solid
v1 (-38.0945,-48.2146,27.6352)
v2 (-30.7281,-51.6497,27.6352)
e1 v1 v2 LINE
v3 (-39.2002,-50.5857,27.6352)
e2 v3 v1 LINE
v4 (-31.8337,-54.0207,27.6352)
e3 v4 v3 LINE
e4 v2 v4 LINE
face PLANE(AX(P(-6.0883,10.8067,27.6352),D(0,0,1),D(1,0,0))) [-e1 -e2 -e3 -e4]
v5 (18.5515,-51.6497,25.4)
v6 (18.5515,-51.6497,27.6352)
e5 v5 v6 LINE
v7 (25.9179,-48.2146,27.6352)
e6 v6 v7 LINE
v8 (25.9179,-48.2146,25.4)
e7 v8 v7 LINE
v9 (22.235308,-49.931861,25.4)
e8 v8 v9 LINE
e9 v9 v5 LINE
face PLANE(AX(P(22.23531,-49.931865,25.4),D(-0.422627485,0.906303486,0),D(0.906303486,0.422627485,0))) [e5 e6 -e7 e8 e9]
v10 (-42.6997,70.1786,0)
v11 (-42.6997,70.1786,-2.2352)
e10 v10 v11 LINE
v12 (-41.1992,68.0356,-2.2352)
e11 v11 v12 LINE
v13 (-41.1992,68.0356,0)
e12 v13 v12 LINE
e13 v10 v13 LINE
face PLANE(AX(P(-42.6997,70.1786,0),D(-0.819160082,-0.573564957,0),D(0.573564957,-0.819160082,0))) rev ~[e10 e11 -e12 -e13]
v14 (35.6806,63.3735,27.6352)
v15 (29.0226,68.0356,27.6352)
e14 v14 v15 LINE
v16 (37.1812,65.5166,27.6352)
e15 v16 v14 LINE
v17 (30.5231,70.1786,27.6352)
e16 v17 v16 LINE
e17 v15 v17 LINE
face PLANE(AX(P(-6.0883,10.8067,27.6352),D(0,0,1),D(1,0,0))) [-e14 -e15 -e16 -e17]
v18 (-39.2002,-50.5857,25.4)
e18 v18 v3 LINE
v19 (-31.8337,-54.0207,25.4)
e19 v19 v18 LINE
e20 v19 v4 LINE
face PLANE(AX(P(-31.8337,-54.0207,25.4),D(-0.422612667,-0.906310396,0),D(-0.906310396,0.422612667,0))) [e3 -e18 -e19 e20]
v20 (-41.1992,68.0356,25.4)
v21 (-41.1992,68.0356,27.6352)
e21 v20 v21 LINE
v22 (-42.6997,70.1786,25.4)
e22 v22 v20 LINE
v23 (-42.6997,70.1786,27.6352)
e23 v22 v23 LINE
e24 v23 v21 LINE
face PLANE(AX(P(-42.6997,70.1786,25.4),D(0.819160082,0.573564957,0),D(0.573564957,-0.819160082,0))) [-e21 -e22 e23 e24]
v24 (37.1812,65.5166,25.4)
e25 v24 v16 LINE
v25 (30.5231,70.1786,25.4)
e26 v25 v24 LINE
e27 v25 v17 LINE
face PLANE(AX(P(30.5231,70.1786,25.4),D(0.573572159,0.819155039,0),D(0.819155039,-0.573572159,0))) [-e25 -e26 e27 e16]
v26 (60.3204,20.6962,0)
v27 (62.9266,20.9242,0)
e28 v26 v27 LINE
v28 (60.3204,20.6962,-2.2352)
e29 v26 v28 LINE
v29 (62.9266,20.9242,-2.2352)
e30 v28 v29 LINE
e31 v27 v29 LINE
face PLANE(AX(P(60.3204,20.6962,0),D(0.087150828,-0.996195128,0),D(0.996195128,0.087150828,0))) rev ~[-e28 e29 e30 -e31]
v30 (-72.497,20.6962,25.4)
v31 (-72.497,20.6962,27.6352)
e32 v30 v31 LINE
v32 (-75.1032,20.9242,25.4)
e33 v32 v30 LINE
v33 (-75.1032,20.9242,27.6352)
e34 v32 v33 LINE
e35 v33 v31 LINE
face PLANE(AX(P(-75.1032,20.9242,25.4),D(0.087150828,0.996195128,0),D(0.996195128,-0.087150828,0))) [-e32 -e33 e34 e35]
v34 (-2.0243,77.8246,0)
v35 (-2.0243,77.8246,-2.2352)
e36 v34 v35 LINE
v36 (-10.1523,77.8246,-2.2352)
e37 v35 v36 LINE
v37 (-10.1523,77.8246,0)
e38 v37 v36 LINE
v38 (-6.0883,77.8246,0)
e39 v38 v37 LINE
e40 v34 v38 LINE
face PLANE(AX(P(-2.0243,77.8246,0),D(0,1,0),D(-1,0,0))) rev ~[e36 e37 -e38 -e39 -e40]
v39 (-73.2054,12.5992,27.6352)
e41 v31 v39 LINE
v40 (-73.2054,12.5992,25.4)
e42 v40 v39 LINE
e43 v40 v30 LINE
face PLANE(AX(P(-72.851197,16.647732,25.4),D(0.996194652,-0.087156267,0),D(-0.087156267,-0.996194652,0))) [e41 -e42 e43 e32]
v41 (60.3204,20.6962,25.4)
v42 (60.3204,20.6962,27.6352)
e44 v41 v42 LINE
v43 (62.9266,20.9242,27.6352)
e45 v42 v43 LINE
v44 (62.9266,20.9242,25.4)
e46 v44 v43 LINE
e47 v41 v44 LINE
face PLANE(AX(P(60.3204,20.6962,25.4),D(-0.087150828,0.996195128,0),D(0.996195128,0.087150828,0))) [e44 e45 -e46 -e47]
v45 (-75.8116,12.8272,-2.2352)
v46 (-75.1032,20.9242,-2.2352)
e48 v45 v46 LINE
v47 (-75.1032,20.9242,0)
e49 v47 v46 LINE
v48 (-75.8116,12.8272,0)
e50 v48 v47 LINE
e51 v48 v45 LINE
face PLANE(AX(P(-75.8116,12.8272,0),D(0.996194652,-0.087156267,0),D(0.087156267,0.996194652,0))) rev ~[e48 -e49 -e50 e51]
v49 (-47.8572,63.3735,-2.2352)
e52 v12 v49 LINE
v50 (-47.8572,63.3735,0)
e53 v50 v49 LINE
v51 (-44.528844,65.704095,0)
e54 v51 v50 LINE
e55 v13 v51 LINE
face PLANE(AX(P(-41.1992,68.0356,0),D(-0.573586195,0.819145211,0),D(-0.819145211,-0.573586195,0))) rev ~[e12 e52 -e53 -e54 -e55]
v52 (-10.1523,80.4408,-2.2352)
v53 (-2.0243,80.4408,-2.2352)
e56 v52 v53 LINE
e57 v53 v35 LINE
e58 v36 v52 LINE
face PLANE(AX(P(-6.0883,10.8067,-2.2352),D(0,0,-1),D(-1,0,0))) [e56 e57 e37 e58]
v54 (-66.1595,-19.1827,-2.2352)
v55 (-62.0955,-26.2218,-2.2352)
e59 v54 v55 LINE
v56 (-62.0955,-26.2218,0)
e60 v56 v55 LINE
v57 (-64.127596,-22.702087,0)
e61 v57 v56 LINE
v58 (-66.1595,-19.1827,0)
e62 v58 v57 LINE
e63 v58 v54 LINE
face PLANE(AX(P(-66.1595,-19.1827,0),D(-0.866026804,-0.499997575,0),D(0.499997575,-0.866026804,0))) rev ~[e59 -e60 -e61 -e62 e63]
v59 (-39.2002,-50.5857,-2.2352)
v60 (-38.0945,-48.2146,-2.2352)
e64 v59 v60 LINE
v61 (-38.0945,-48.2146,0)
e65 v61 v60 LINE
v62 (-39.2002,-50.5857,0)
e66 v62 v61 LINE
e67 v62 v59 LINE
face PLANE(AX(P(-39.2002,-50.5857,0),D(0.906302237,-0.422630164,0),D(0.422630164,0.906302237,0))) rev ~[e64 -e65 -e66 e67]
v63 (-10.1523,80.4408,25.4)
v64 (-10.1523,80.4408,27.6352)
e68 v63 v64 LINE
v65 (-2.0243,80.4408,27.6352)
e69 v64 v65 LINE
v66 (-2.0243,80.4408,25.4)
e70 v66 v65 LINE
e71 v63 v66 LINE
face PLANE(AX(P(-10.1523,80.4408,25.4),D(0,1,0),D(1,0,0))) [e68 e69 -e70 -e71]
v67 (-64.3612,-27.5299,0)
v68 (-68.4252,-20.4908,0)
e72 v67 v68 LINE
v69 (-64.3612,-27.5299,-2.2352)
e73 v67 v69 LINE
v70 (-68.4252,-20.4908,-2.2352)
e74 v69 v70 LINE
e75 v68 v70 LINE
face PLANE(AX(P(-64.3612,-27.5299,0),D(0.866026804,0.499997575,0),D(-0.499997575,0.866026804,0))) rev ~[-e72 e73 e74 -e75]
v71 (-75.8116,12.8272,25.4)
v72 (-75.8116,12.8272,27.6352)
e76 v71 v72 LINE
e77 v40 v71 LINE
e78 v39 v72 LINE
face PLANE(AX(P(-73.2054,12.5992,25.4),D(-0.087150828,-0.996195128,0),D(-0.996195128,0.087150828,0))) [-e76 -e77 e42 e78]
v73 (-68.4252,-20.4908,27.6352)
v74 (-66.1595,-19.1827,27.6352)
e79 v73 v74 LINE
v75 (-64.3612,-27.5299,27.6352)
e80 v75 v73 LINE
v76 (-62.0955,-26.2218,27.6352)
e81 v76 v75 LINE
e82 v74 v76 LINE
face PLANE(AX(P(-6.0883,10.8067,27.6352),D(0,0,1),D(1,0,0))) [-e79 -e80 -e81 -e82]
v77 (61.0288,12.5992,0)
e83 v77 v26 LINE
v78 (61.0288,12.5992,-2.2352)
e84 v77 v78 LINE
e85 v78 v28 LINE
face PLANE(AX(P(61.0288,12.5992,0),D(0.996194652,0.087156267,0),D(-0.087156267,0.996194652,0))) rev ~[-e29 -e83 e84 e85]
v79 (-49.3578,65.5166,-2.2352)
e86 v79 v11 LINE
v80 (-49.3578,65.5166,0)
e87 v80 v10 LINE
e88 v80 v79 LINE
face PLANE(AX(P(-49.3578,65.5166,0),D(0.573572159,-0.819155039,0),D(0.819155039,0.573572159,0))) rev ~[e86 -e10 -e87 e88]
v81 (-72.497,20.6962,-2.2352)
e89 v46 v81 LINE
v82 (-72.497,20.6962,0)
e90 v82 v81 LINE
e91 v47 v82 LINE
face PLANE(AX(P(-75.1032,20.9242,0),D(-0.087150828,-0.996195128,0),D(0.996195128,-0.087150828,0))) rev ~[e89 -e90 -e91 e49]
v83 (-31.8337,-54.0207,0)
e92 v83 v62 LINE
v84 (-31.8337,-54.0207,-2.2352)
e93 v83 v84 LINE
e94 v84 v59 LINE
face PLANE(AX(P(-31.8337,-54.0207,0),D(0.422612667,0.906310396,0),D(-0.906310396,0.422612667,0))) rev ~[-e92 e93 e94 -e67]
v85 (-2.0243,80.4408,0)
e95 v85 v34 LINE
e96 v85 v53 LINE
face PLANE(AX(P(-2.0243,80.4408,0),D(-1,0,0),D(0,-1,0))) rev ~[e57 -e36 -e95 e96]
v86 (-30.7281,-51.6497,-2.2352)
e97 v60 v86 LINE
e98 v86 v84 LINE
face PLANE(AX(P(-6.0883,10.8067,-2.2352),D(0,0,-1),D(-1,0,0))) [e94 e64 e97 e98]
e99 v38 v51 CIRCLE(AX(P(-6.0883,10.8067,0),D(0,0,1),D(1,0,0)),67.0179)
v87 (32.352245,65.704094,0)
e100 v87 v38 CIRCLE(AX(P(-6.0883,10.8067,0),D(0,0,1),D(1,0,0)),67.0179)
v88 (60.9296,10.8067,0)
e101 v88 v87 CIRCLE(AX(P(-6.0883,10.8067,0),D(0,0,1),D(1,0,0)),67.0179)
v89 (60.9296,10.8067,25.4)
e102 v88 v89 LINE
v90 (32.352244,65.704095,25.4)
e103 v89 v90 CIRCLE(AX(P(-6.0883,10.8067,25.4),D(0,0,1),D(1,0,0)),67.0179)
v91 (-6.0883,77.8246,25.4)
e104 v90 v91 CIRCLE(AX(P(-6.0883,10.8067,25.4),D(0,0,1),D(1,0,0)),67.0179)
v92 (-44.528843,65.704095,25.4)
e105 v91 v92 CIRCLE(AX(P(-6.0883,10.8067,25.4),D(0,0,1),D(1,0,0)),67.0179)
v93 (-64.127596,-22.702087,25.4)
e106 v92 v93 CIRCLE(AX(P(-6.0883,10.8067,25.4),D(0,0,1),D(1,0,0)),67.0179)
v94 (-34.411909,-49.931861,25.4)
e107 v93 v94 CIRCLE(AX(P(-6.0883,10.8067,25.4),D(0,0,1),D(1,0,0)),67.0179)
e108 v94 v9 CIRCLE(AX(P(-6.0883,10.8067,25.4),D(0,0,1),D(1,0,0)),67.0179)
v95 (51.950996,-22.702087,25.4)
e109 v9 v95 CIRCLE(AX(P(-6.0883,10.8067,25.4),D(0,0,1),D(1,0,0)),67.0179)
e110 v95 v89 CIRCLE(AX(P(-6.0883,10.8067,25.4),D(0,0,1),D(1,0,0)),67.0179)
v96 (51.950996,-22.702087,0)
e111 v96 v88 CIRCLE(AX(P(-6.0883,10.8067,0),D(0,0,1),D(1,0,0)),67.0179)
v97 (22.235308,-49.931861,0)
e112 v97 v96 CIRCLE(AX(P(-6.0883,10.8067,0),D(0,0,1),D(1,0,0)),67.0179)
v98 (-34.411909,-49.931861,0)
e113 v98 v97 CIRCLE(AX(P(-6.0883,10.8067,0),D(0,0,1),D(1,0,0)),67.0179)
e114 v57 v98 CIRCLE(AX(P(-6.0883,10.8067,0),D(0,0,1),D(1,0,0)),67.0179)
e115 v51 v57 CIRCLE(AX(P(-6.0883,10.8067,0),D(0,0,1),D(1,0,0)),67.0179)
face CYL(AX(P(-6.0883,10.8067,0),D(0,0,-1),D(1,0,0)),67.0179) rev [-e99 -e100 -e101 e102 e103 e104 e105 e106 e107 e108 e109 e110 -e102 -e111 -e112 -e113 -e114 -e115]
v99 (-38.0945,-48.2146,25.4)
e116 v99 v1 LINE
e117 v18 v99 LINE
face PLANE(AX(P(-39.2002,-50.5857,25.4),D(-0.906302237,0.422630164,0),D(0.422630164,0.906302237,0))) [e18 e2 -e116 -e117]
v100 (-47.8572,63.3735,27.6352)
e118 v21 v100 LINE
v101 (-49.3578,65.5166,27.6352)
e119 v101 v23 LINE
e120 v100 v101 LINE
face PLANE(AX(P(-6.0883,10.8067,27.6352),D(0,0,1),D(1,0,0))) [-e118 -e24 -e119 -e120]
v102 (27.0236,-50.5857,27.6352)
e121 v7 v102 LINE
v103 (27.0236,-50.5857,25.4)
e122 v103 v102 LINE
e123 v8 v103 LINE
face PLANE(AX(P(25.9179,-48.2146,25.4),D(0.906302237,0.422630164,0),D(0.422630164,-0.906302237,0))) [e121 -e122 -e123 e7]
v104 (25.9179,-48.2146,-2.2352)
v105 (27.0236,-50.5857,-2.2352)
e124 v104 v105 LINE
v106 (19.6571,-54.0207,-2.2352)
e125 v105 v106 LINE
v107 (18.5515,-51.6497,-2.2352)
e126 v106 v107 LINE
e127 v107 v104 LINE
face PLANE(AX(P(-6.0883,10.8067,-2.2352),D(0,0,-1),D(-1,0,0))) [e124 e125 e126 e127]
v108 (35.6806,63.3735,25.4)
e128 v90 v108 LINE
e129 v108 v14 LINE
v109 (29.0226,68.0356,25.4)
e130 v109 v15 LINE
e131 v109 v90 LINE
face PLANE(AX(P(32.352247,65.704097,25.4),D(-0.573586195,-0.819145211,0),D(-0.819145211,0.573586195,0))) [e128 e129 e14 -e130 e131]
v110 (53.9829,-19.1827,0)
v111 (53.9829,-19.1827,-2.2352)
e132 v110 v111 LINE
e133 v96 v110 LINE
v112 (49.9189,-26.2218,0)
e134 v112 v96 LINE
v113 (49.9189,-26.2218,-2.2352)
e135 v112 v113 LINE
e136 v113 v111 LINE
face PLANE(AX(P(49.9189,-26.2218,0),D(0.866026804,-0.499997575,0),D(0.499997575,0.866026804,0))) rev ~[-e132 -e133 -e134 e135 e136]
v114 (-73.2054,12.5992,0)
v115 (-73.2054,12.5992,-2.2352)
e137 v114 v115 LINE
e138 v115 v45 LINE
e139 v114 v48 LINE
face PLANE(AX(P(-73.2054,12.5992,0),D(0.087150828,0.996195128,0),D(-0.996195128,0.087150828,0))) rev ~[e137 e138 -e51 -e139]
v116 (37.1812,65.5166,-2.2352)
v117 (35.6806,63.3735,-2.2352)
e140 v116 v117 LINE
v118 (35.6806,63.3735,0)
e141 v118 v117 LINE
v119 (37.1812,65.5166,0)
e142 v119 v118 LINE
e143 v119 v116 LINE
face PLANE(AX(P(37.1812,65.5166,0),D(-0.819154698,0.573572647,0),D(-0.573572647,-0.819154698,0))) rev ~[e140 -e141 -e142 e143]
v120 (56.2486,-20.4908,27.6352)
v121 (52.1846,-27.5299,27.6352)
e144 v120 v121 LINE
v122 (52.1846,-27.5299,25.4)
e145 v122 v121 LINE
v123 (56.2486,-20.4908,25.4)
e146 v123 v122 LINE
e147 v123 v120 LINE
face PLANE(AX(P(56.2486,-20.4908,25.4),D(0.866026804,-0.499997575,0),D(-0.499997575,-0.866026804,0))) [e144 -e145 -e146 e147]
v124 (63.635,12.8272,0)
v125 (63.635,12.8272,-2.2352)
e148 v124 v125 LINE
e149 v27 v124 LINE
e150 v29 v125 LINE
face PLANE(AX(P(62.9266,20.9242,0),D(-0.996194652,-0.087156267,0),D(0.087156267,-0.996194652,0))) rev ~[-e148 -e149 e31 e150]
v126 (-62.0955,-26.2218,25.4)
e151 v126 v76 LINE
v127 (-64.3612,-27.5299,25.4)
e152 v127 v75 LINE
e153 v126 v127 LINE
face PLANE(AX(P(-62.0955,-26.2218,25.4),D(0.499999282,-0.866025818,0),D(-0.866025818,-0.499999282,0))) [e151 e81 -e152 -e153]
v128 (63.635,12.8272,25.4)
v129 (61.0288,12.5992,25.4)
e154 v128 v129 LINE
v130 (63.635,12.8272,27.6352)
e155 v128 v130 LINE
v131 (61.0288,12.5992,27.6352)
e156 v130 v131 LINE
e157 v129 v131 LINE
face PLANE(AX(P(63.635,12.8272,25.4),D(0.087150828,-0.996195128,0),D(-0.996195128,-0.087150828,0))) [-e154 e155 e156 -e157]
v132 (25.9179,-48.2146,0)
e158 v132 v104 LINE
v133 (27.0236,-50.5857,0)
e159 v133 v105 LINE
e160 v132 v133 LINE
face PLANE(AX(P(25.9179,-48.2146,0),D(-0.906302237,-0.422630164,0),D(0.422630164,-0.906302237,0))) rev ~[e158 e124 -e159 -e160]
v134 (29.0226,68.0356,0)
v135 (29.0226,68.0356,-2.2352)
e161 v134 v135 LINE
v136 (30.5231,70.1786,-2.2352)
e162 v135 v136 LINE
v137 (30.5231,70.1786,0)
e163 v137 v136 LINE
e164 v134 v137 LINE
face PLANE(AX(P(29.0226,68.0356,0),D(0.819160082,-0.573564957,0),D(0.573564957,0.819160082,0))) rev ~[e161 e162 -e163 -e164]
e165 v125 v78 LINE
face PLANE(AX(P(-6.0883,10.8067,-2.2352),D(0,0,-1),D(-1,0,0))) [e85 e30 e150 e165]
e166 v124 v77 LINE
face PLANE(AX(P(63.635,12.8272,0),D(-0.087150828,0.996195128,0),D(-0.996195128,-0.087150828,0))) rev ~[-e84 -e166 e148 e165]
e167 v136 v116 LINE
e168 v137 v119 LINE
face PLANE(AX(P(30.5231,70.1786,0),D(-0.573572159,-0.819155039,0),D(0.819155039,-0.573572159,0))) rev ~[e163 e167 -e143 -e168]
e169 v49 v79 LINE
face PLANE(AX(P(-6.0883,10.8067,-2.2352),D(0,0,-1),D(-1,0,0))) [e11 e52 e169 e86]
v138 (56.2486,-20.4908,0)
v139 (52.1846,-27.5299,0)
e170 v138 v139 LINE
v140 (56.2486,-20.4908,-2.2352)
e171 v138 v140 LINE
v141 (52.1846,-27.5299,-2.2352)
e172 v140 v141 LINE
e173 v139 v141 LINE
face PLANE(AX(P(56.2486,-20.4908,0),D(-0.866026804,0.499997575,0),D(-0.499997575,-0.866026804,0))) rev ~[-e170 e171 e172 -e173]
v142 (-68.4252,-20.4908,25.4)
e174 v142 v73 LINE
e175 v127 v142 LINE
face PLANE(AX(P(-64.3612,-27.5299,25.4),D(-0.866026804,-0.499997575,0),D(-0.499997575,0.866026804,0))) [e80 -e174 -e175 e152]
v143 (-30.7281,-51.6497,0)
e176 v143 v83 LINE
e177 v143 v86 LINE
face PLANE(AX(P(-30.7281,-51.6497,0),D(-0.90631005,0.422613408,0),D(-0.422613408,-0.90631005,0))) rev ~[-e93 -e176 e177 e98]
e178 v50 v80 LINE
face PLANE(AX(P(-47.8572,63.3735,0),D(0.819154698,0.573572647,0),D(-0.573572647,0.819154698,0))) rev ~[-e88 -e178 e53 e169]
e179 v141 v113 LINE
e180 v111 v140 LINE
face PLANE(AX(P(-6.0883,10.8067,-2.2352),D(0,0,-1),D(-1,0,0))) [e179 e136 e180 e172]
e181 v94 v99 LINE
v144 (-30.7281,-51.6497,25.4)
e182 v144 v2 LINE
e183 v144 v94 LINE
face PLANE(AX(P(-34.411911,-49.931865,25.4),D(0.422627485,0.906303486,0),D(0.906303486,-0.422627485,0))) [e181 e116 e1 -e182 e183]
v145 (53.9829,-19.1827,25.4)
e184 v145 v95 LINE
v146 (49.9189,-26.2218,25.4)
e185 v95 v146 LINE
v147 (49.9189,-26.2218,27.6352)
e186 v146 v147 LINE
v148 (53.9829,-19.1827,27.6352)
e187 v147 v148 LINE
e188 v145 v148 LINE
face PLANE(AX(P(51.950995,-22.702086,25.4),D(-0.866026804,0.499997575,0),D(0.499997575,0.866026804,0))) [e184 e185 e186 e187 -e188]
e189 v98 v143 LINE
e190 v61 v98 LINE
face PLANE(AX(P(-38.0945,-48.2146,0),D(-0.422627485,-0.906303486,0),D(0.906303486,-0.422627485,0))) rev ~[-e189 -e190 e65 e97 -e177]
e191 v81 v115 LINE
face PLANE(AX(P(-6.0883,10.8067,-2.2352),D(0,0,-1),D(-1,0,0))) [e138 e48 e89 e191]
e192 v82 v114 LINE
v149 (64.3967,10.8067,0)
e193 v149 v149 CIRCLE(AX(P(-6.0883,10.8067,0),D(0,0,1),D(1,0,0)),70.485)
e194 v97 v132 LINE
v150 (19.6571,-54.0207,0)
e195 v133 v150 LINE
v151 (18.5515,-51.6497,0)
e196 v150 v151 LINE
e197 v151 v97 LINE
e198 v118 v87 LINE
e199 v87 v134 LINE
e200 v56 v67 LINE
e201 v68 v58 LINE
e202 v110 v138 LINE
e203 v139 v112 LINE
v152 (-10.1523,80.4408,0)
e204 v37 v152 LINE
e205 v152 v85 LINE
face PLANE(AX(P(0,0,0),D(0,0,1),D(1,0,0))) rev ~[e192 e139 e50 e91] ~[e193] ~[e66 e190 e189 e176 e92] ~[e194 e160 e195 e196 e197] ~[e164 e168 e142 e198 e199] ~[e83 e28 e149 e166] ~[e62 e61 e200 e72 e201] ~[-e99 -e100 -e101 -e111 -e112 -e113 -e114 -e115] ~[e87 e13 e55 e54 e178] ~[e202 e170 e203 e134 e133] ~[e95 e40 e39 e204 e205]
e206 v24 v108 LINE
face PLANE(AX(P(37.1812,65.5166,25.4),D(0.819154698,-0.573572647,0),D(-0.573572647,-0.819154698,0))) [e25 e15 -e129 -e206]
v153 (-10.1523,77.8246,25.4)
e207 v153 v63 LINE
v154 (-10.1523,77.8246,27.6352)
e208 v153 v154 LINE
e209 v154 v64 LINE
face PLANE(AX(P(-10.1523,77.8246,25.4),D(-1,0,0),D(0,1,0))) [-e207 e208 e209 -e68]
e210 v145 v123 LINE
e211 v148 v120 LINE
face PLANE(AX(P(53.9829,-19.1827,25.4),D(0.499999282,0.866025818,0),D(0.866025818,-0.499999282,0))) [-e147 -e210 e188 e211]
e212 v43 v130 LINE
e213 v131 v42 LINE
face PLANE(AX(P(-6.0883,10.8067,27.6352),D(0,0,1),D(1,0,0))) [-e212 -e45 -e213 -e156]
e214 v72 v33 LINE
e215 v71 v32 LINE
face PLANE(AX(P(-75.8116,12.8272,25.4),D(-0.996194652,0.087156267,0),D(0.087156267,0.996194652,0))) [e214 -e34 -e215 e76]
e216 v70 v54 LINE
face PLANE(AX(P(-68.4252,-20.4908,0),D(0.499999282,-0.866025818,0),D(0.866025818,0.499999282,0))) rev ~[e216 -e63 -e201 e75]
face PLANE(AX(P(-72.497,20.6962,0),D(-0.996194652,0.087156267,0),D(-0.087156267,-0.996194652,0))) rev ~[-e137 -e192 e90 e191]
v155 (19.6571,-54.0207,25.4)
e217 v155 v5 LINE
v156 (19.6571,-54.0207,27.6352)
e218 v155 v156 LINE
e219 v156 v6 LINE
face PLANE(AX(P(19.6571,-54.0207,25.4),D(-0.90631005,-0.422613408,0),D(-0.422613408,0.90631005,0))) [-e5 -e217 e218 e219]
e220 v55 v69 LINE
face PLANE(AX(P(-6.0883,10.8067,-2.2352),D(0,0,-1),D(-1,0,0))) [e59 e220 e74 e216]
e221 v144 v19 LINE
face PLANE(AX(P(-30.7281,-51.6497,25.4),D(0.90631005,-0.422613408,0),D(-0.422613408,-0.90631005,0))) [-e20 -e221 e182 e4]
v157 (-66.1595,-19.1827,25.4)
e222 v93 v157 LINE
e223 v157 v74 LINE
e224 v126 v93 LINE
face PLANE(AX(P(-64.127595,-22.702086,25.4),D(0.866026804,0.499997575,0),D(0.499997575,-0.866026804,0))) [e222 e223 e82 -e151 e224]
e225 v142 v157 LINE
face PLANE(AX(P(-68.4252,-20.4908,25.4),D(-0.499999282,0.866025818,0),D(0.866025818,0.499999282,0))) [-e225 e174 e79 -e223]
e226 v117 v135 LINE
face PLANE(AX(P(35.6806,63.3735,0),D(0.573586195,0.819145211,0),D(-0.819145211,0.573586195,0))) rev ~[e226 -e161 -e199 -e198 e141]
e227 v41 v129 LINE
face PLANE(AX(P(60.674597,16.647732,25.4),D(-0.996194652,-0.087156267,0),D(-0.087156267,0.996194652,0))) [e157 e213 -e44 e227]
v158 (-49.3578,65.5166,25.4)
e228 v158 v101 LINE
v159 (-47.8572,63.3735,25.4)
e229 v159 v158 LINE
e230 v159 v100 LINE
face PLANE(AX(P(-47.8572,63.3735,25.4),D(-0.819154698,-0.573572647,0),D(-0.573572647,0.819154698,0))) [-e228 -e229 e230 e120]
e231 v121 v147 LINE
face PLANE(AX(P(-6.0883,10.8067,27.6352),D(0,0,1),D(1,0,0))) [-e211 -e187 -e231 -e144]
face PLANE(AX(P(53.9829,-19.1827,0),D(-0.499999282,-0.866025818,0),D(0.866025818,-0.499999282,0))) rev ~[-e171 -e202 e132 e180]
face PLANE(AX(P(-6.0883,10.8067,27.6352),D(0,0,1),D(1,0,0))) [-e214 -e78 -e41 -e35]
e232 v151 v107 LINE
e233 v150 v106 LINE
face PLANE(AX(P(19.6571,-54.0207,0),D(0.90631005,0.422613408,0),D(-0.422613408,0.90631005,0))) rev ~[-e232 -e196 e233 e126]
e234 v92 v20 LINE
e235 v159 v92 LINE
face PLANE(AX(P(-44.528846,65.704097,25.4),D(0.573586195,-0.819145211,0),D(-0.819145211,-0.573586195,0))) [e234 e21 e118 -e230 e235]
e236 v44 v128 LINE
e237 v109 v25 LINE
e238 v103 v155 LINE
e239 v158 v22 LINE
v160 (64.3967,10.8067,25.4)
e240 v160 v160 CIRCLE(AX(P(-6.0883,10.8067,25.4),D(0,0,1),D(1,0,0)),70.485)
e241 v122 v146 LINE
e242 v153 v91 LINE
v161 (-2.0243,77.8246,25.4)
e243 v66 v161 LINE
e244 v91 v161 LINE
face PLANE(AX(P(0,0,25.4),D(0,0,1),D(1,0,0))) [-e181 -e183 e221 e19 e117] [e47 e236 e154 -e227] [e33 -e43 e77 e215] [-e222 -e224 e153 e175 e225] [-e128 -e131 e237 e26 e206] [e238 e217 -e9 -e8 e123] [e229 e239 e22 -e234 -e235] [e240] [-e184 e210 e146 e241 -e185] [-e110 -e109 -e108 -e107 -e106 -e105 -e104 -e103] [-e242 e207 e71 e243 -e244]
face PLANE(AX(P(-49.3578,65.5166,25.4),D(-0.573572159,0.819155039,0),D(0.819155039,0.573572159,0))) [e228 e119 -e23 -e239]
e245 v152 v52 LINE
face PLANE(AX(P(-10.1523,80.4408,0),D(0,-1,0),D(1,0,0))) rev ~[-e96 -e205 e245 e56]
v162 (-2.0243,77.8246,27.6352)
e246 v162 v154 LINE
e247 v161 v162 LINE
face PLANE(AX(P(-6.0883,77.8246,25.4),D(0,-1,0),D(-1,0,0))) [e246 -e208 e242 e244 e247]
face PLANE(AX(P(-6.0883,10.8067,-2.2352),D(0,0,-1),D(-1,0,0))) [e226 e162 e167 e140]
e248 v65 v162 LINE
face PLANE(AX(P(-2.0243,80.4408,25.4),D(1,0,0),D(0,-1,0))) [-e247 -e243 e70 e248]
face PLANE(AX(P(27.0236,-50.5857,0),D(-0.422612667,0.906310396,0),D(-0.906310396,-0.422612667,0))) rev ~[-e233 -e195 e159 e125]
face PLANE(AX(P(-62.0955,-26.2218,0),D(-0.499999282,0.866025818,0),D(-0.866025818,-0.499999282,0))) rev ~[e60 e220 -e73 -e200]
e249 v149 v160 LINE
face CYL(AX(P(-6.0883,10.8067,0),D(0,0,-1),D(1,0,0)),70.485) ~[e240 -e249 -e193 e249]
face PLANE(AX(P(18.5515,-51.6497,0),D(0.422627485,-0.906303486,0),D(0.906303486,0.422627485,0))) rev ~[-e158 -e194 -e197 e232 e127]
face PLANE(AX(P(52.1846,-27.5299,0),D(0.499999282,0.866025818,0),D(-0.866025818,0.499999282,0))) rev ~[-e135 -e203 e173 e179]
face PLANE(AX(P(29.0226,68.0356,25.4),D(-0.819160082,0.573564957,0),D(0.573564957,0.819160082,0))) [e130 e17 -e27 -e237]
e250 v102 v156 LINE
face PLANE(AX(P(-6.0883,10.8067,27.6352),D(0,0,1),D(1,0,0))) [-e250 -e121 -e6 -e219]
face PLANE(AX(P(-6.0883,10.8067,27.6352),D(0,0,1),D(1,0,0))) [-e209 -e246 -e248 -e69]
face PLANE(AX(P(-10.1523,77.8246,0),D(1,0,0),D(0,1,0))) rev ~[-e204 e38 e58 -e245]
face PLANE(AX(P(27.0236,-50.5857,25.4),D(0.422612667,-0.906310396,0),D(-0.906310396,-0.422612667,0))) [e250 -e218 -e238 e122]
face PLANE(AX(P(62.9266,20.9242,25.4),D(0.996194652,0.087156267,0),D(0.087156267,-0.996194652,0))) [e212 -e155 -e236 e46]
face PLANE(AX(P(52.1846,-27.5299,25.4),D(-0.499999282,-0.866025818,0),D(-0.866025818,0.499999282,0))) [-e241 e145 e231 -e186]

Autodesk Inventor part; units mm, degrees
ref_plane "YZ Plane" through (0, 0, 0) normal (1, 0, 0) x (0, 1, 0)
ref_plane "XZ Plane" through (0, 0, 0) normal (0, 1, 0) x (-1, 0, 0)
ref_plane "XY Plane" through (0, 0, 0) normal (0, 0, 1) x (1, 0, 0)
sketch "Sketch1" plane through (0, 0, 0) normal (0, 0, 1) x (1, 0, 0)
  circle A0 centre (-6.0883, 10.8067) radius 67.0179
  circle A1 centre (-6.0883, 10.8067) radius 70.485
  dimension "d0" = 140.97
  dimension "d1" = 134.0358
extrude "Extrusion1" add sketch "Sketch1" along normal blind 25.4
sketch "Sketch2" plane through (-6.0883, 10.8067, 25.4) normal (0, 0, 1) x (1, 0, 0)
  circle A0 centre (0, 0) radius 67.0179 projected
  circle A1 centre (0, 0) radius 70.485 projected
  line L0 (-4.064, 69.6341) -> (4.064, 69.6341)
  line L1 (4.064, 69.6341) -> (4.064, 67.0179)
  line L2 (4.064, 67.0179) -> (-4.064, 67.0179)
  line L3 (-4.064, 67.0179) -> (-4.064, 69.6341)
  line L4 (-43.2695, 54.7099) -> (-36.6114, 59.3719)
  line L5 (-36.6114, 59.3719) -> (-35.1109, 57.2289)
  line L6 (-35.1109, 57.2289) -> (-41.7689, 52.5668)
  line L7 (-41.7689, 52.5668) -> (-43.2695, 54.7099)
  line L8 (36.6114, 59.3719) -> (43.2695, 54.7099)
  line L9 (43.2695, 54.7099) -> (41.7689, 52.5668)
  line L10 (41.7689, 52.5668) -> (35.1109, 57.2289)
  line L11 (35.1109, 57.2289) -> (36.6114, 59.3719)
  line L12 (-69.7233, 2.0205) -> (-69.0149, 10.1175)
  line L13 (-69.0149, 10.1175) -> (-66.4087, 9.8895)
  line L14 (-66.4087, 9.8895) -> (-67.1171, 1.7925)
  line L15 (-67.1171, 1.7925) -> (-69.7233, 2.0205)
  line L16 (-60.0712, -29.9894) -> (-56.0072, -37.0285)
  line L17 (-56.0072, -37.0285) -> (-58.2729, -38.3366)
  line L18 (-58.2729, -38.3366) -> (-62.3369, -31.2975)
  line L19 (-62.3369, -31.2975) -> (-60.0712, -29.9894)
  line L20 (-32.0062, -59.0213) -> (-24.6398, -62.4564)
  line L21 (-24.6398, -62.4564) -> (-25.7454, -64.8274)
  line L22 (-25.7454, -64.8274) -> (-33.1119, -61.3924)
  line L23 (-33.1119, -61.3924) -> (-32.0062, -59.0213)
  line L24 (25.7454, -64.8274) -> (24.6398, -62.4564)
  line L25 (33.1119, -61.3924) -> (25.7454, -64.8274)
  line L26 (32.0062, -59.0213) -> (33.1119, -61.3924)
  line L27 (24.6398, -62.4564) -> (32.0062, -59.0213)
  line L28 (69.0149, 10.1175) -> (69.7233, 2.0205)
  line L29 (69.7233, 2.0205) -> (67.1171, 1.7925)
  line L30 (67.1171, 1.7925) -> (66.4087, 9.8895)
  line L31 (66.4087, 9.8895) -> (69.0149, 10.1175)
  line L32 (62.3369, -31.2975) -> (58.2729, -38.3366)
  line L33 (58.2729, -38.3366) -> (56.0072, -37.0285)
  line L34 (56.0072, -37.0285) -> (60.0712, -29.9894)
  line L35 (60.0712, -29.9894) -> (62.3369, -31.2975)
  line L36 (33.1119, -61.3924) -> (25.7454, -64.8274)
  line L37 (25.7454, -64.8274) -> (24.6398, -62.4564)
  line L38 (24.6398, -62.4564) -> (32.0062, -59.0213)
  line L39 (32.0062, -59.0213) -> (33.1119, -61.3924)
  dimension "d4" = 2.6162
  dimension "d5" = 8.128
  dimension "d8" = 35
  dimension "d12" = 35
  dimension "d16" = 50
  dimension "d20" = 70
  dimension "d24" = 50
  dimension "d28" = 50
  dimension "d32" = 70
extrude "Extrusion2" add sketch "Sketch2" along normal blind 2.2352 contours L34 L35 L32 L33 | L27 L26 L25 L24 | L20 L21 L22 L23 | L16 L17 L18 L19 | L14 L15 L12 L13 | L6 L7 L4 L5 | L2 L3 L0 L1 | L10 L11 L8 L9 | L30 L31 L28 L29
sketch "Sketch3" plane through (-6.0883, 10.8067, 0) normal (0, 0, -1) x (-1, 0, 0)
  line L0 (-4.064, 67.0179) -> (4.064, 67.0179)
  line L1 (4.064, 67.0179) -> (4.064, 69.6341)
  line L2 (4.064, 69.6341) -> (-4.064, 69.6341)
  line L3 (-4.064, 69.6341) -> (-4.064, 67.0179)
  line L4 (-35.1109, 57.2289) -> (-36.6114, 59.3719)
  line L5 (-36.6114, 59.3719) -> (-43.2695, 54.7099)
  line L6 (-41.7689, 52.5668) -> (-35.1109, 57.2289)
  line L7 (-43.2695, 54.7099) -> (-41.7689, 52.5668)
  line L8 (-69.7233, 2.0205) -> (-67.1171, 1.7925)
  line L9 (-69.0149, 10.1175) -> (-69.7233, 2.0205)
  line L10 (-66.4087, 9.8895) -> (-69.0149, 10.1175)
  line L11 (-67.1171, 1.7925) -> (-66.4087, 9.8895)
  line L12 (-60.0712, -29.9894) -> (-62.3369, -31.2975)
  line L13 (-56.0072, -37.0285) -> (-60.0712, -29.9894)
  line L14 (-58.2729, -38.3366) -> (-56.0072, -37.0285)
  line L15 (-62.3369, -31.2975) -> (-58.2729, -38.3366)
  line L16 (36.6114, 59.3719) -> (35.1109, 57.2289)
  line L17 (43.2695, 54.7099) -> (36.6114, 59.3719)
  line L18 (41.7689, 52.5668) -> (43.2695, 54.7099)
  line L19 (35.1109, 57.2289) -> (41.7689, 52.5668)
  line L20 (-32.0062, -59.0213) -> (-33.1119, -61.3924)
  line L21 (-24.6398, -62.4564) -> (-32.0062, -59.0213)
  line L22 (-25.7454, -64.8274) -> (-24.6398, -62.4564)
  line L23 (-33.1119, -61.3924) -> (-25.7454, -64.8274)
  line L24 (32.0062, -59.0213) -> (24.6398, -62.4564)
  line L25 (33.1119, -61.3924) -> (32.0062, -59.0213)
  line L26 (25.7454, -64.8274) -> (33.1119, -61.3924)
  line L27 (24.6398, -62.4564) -> (25.7454, -64.8274)
  line L28 (60.0712, -29.9894) -> (56.0072, -37.0285)
  line L29 (62.3369, -31.2975) -> (60.0712, -29.9894)
  line L30 (58.2729, -38.3366) -> (62.3369, -31.2975)
  line L31 (56.0072, -37.0285) -> (58.2729, -38.3366)
  line L32 (69.0149, 10.1175) -> (66.4087, 9.8895)
  line L33 (69.7233, 2.0205) -> (69.0149, 10.1175)
  line L34 (67.1171, 1.7925) -> (69.7233, 2.0205)
  line L35 (66.4087, 9.8895) -> (67.1171, 1.7925)
extrude "Extrusion3" add sketch "Sketch3" along normal blind 2.2352
properties part number "Traction Mount 1764"
